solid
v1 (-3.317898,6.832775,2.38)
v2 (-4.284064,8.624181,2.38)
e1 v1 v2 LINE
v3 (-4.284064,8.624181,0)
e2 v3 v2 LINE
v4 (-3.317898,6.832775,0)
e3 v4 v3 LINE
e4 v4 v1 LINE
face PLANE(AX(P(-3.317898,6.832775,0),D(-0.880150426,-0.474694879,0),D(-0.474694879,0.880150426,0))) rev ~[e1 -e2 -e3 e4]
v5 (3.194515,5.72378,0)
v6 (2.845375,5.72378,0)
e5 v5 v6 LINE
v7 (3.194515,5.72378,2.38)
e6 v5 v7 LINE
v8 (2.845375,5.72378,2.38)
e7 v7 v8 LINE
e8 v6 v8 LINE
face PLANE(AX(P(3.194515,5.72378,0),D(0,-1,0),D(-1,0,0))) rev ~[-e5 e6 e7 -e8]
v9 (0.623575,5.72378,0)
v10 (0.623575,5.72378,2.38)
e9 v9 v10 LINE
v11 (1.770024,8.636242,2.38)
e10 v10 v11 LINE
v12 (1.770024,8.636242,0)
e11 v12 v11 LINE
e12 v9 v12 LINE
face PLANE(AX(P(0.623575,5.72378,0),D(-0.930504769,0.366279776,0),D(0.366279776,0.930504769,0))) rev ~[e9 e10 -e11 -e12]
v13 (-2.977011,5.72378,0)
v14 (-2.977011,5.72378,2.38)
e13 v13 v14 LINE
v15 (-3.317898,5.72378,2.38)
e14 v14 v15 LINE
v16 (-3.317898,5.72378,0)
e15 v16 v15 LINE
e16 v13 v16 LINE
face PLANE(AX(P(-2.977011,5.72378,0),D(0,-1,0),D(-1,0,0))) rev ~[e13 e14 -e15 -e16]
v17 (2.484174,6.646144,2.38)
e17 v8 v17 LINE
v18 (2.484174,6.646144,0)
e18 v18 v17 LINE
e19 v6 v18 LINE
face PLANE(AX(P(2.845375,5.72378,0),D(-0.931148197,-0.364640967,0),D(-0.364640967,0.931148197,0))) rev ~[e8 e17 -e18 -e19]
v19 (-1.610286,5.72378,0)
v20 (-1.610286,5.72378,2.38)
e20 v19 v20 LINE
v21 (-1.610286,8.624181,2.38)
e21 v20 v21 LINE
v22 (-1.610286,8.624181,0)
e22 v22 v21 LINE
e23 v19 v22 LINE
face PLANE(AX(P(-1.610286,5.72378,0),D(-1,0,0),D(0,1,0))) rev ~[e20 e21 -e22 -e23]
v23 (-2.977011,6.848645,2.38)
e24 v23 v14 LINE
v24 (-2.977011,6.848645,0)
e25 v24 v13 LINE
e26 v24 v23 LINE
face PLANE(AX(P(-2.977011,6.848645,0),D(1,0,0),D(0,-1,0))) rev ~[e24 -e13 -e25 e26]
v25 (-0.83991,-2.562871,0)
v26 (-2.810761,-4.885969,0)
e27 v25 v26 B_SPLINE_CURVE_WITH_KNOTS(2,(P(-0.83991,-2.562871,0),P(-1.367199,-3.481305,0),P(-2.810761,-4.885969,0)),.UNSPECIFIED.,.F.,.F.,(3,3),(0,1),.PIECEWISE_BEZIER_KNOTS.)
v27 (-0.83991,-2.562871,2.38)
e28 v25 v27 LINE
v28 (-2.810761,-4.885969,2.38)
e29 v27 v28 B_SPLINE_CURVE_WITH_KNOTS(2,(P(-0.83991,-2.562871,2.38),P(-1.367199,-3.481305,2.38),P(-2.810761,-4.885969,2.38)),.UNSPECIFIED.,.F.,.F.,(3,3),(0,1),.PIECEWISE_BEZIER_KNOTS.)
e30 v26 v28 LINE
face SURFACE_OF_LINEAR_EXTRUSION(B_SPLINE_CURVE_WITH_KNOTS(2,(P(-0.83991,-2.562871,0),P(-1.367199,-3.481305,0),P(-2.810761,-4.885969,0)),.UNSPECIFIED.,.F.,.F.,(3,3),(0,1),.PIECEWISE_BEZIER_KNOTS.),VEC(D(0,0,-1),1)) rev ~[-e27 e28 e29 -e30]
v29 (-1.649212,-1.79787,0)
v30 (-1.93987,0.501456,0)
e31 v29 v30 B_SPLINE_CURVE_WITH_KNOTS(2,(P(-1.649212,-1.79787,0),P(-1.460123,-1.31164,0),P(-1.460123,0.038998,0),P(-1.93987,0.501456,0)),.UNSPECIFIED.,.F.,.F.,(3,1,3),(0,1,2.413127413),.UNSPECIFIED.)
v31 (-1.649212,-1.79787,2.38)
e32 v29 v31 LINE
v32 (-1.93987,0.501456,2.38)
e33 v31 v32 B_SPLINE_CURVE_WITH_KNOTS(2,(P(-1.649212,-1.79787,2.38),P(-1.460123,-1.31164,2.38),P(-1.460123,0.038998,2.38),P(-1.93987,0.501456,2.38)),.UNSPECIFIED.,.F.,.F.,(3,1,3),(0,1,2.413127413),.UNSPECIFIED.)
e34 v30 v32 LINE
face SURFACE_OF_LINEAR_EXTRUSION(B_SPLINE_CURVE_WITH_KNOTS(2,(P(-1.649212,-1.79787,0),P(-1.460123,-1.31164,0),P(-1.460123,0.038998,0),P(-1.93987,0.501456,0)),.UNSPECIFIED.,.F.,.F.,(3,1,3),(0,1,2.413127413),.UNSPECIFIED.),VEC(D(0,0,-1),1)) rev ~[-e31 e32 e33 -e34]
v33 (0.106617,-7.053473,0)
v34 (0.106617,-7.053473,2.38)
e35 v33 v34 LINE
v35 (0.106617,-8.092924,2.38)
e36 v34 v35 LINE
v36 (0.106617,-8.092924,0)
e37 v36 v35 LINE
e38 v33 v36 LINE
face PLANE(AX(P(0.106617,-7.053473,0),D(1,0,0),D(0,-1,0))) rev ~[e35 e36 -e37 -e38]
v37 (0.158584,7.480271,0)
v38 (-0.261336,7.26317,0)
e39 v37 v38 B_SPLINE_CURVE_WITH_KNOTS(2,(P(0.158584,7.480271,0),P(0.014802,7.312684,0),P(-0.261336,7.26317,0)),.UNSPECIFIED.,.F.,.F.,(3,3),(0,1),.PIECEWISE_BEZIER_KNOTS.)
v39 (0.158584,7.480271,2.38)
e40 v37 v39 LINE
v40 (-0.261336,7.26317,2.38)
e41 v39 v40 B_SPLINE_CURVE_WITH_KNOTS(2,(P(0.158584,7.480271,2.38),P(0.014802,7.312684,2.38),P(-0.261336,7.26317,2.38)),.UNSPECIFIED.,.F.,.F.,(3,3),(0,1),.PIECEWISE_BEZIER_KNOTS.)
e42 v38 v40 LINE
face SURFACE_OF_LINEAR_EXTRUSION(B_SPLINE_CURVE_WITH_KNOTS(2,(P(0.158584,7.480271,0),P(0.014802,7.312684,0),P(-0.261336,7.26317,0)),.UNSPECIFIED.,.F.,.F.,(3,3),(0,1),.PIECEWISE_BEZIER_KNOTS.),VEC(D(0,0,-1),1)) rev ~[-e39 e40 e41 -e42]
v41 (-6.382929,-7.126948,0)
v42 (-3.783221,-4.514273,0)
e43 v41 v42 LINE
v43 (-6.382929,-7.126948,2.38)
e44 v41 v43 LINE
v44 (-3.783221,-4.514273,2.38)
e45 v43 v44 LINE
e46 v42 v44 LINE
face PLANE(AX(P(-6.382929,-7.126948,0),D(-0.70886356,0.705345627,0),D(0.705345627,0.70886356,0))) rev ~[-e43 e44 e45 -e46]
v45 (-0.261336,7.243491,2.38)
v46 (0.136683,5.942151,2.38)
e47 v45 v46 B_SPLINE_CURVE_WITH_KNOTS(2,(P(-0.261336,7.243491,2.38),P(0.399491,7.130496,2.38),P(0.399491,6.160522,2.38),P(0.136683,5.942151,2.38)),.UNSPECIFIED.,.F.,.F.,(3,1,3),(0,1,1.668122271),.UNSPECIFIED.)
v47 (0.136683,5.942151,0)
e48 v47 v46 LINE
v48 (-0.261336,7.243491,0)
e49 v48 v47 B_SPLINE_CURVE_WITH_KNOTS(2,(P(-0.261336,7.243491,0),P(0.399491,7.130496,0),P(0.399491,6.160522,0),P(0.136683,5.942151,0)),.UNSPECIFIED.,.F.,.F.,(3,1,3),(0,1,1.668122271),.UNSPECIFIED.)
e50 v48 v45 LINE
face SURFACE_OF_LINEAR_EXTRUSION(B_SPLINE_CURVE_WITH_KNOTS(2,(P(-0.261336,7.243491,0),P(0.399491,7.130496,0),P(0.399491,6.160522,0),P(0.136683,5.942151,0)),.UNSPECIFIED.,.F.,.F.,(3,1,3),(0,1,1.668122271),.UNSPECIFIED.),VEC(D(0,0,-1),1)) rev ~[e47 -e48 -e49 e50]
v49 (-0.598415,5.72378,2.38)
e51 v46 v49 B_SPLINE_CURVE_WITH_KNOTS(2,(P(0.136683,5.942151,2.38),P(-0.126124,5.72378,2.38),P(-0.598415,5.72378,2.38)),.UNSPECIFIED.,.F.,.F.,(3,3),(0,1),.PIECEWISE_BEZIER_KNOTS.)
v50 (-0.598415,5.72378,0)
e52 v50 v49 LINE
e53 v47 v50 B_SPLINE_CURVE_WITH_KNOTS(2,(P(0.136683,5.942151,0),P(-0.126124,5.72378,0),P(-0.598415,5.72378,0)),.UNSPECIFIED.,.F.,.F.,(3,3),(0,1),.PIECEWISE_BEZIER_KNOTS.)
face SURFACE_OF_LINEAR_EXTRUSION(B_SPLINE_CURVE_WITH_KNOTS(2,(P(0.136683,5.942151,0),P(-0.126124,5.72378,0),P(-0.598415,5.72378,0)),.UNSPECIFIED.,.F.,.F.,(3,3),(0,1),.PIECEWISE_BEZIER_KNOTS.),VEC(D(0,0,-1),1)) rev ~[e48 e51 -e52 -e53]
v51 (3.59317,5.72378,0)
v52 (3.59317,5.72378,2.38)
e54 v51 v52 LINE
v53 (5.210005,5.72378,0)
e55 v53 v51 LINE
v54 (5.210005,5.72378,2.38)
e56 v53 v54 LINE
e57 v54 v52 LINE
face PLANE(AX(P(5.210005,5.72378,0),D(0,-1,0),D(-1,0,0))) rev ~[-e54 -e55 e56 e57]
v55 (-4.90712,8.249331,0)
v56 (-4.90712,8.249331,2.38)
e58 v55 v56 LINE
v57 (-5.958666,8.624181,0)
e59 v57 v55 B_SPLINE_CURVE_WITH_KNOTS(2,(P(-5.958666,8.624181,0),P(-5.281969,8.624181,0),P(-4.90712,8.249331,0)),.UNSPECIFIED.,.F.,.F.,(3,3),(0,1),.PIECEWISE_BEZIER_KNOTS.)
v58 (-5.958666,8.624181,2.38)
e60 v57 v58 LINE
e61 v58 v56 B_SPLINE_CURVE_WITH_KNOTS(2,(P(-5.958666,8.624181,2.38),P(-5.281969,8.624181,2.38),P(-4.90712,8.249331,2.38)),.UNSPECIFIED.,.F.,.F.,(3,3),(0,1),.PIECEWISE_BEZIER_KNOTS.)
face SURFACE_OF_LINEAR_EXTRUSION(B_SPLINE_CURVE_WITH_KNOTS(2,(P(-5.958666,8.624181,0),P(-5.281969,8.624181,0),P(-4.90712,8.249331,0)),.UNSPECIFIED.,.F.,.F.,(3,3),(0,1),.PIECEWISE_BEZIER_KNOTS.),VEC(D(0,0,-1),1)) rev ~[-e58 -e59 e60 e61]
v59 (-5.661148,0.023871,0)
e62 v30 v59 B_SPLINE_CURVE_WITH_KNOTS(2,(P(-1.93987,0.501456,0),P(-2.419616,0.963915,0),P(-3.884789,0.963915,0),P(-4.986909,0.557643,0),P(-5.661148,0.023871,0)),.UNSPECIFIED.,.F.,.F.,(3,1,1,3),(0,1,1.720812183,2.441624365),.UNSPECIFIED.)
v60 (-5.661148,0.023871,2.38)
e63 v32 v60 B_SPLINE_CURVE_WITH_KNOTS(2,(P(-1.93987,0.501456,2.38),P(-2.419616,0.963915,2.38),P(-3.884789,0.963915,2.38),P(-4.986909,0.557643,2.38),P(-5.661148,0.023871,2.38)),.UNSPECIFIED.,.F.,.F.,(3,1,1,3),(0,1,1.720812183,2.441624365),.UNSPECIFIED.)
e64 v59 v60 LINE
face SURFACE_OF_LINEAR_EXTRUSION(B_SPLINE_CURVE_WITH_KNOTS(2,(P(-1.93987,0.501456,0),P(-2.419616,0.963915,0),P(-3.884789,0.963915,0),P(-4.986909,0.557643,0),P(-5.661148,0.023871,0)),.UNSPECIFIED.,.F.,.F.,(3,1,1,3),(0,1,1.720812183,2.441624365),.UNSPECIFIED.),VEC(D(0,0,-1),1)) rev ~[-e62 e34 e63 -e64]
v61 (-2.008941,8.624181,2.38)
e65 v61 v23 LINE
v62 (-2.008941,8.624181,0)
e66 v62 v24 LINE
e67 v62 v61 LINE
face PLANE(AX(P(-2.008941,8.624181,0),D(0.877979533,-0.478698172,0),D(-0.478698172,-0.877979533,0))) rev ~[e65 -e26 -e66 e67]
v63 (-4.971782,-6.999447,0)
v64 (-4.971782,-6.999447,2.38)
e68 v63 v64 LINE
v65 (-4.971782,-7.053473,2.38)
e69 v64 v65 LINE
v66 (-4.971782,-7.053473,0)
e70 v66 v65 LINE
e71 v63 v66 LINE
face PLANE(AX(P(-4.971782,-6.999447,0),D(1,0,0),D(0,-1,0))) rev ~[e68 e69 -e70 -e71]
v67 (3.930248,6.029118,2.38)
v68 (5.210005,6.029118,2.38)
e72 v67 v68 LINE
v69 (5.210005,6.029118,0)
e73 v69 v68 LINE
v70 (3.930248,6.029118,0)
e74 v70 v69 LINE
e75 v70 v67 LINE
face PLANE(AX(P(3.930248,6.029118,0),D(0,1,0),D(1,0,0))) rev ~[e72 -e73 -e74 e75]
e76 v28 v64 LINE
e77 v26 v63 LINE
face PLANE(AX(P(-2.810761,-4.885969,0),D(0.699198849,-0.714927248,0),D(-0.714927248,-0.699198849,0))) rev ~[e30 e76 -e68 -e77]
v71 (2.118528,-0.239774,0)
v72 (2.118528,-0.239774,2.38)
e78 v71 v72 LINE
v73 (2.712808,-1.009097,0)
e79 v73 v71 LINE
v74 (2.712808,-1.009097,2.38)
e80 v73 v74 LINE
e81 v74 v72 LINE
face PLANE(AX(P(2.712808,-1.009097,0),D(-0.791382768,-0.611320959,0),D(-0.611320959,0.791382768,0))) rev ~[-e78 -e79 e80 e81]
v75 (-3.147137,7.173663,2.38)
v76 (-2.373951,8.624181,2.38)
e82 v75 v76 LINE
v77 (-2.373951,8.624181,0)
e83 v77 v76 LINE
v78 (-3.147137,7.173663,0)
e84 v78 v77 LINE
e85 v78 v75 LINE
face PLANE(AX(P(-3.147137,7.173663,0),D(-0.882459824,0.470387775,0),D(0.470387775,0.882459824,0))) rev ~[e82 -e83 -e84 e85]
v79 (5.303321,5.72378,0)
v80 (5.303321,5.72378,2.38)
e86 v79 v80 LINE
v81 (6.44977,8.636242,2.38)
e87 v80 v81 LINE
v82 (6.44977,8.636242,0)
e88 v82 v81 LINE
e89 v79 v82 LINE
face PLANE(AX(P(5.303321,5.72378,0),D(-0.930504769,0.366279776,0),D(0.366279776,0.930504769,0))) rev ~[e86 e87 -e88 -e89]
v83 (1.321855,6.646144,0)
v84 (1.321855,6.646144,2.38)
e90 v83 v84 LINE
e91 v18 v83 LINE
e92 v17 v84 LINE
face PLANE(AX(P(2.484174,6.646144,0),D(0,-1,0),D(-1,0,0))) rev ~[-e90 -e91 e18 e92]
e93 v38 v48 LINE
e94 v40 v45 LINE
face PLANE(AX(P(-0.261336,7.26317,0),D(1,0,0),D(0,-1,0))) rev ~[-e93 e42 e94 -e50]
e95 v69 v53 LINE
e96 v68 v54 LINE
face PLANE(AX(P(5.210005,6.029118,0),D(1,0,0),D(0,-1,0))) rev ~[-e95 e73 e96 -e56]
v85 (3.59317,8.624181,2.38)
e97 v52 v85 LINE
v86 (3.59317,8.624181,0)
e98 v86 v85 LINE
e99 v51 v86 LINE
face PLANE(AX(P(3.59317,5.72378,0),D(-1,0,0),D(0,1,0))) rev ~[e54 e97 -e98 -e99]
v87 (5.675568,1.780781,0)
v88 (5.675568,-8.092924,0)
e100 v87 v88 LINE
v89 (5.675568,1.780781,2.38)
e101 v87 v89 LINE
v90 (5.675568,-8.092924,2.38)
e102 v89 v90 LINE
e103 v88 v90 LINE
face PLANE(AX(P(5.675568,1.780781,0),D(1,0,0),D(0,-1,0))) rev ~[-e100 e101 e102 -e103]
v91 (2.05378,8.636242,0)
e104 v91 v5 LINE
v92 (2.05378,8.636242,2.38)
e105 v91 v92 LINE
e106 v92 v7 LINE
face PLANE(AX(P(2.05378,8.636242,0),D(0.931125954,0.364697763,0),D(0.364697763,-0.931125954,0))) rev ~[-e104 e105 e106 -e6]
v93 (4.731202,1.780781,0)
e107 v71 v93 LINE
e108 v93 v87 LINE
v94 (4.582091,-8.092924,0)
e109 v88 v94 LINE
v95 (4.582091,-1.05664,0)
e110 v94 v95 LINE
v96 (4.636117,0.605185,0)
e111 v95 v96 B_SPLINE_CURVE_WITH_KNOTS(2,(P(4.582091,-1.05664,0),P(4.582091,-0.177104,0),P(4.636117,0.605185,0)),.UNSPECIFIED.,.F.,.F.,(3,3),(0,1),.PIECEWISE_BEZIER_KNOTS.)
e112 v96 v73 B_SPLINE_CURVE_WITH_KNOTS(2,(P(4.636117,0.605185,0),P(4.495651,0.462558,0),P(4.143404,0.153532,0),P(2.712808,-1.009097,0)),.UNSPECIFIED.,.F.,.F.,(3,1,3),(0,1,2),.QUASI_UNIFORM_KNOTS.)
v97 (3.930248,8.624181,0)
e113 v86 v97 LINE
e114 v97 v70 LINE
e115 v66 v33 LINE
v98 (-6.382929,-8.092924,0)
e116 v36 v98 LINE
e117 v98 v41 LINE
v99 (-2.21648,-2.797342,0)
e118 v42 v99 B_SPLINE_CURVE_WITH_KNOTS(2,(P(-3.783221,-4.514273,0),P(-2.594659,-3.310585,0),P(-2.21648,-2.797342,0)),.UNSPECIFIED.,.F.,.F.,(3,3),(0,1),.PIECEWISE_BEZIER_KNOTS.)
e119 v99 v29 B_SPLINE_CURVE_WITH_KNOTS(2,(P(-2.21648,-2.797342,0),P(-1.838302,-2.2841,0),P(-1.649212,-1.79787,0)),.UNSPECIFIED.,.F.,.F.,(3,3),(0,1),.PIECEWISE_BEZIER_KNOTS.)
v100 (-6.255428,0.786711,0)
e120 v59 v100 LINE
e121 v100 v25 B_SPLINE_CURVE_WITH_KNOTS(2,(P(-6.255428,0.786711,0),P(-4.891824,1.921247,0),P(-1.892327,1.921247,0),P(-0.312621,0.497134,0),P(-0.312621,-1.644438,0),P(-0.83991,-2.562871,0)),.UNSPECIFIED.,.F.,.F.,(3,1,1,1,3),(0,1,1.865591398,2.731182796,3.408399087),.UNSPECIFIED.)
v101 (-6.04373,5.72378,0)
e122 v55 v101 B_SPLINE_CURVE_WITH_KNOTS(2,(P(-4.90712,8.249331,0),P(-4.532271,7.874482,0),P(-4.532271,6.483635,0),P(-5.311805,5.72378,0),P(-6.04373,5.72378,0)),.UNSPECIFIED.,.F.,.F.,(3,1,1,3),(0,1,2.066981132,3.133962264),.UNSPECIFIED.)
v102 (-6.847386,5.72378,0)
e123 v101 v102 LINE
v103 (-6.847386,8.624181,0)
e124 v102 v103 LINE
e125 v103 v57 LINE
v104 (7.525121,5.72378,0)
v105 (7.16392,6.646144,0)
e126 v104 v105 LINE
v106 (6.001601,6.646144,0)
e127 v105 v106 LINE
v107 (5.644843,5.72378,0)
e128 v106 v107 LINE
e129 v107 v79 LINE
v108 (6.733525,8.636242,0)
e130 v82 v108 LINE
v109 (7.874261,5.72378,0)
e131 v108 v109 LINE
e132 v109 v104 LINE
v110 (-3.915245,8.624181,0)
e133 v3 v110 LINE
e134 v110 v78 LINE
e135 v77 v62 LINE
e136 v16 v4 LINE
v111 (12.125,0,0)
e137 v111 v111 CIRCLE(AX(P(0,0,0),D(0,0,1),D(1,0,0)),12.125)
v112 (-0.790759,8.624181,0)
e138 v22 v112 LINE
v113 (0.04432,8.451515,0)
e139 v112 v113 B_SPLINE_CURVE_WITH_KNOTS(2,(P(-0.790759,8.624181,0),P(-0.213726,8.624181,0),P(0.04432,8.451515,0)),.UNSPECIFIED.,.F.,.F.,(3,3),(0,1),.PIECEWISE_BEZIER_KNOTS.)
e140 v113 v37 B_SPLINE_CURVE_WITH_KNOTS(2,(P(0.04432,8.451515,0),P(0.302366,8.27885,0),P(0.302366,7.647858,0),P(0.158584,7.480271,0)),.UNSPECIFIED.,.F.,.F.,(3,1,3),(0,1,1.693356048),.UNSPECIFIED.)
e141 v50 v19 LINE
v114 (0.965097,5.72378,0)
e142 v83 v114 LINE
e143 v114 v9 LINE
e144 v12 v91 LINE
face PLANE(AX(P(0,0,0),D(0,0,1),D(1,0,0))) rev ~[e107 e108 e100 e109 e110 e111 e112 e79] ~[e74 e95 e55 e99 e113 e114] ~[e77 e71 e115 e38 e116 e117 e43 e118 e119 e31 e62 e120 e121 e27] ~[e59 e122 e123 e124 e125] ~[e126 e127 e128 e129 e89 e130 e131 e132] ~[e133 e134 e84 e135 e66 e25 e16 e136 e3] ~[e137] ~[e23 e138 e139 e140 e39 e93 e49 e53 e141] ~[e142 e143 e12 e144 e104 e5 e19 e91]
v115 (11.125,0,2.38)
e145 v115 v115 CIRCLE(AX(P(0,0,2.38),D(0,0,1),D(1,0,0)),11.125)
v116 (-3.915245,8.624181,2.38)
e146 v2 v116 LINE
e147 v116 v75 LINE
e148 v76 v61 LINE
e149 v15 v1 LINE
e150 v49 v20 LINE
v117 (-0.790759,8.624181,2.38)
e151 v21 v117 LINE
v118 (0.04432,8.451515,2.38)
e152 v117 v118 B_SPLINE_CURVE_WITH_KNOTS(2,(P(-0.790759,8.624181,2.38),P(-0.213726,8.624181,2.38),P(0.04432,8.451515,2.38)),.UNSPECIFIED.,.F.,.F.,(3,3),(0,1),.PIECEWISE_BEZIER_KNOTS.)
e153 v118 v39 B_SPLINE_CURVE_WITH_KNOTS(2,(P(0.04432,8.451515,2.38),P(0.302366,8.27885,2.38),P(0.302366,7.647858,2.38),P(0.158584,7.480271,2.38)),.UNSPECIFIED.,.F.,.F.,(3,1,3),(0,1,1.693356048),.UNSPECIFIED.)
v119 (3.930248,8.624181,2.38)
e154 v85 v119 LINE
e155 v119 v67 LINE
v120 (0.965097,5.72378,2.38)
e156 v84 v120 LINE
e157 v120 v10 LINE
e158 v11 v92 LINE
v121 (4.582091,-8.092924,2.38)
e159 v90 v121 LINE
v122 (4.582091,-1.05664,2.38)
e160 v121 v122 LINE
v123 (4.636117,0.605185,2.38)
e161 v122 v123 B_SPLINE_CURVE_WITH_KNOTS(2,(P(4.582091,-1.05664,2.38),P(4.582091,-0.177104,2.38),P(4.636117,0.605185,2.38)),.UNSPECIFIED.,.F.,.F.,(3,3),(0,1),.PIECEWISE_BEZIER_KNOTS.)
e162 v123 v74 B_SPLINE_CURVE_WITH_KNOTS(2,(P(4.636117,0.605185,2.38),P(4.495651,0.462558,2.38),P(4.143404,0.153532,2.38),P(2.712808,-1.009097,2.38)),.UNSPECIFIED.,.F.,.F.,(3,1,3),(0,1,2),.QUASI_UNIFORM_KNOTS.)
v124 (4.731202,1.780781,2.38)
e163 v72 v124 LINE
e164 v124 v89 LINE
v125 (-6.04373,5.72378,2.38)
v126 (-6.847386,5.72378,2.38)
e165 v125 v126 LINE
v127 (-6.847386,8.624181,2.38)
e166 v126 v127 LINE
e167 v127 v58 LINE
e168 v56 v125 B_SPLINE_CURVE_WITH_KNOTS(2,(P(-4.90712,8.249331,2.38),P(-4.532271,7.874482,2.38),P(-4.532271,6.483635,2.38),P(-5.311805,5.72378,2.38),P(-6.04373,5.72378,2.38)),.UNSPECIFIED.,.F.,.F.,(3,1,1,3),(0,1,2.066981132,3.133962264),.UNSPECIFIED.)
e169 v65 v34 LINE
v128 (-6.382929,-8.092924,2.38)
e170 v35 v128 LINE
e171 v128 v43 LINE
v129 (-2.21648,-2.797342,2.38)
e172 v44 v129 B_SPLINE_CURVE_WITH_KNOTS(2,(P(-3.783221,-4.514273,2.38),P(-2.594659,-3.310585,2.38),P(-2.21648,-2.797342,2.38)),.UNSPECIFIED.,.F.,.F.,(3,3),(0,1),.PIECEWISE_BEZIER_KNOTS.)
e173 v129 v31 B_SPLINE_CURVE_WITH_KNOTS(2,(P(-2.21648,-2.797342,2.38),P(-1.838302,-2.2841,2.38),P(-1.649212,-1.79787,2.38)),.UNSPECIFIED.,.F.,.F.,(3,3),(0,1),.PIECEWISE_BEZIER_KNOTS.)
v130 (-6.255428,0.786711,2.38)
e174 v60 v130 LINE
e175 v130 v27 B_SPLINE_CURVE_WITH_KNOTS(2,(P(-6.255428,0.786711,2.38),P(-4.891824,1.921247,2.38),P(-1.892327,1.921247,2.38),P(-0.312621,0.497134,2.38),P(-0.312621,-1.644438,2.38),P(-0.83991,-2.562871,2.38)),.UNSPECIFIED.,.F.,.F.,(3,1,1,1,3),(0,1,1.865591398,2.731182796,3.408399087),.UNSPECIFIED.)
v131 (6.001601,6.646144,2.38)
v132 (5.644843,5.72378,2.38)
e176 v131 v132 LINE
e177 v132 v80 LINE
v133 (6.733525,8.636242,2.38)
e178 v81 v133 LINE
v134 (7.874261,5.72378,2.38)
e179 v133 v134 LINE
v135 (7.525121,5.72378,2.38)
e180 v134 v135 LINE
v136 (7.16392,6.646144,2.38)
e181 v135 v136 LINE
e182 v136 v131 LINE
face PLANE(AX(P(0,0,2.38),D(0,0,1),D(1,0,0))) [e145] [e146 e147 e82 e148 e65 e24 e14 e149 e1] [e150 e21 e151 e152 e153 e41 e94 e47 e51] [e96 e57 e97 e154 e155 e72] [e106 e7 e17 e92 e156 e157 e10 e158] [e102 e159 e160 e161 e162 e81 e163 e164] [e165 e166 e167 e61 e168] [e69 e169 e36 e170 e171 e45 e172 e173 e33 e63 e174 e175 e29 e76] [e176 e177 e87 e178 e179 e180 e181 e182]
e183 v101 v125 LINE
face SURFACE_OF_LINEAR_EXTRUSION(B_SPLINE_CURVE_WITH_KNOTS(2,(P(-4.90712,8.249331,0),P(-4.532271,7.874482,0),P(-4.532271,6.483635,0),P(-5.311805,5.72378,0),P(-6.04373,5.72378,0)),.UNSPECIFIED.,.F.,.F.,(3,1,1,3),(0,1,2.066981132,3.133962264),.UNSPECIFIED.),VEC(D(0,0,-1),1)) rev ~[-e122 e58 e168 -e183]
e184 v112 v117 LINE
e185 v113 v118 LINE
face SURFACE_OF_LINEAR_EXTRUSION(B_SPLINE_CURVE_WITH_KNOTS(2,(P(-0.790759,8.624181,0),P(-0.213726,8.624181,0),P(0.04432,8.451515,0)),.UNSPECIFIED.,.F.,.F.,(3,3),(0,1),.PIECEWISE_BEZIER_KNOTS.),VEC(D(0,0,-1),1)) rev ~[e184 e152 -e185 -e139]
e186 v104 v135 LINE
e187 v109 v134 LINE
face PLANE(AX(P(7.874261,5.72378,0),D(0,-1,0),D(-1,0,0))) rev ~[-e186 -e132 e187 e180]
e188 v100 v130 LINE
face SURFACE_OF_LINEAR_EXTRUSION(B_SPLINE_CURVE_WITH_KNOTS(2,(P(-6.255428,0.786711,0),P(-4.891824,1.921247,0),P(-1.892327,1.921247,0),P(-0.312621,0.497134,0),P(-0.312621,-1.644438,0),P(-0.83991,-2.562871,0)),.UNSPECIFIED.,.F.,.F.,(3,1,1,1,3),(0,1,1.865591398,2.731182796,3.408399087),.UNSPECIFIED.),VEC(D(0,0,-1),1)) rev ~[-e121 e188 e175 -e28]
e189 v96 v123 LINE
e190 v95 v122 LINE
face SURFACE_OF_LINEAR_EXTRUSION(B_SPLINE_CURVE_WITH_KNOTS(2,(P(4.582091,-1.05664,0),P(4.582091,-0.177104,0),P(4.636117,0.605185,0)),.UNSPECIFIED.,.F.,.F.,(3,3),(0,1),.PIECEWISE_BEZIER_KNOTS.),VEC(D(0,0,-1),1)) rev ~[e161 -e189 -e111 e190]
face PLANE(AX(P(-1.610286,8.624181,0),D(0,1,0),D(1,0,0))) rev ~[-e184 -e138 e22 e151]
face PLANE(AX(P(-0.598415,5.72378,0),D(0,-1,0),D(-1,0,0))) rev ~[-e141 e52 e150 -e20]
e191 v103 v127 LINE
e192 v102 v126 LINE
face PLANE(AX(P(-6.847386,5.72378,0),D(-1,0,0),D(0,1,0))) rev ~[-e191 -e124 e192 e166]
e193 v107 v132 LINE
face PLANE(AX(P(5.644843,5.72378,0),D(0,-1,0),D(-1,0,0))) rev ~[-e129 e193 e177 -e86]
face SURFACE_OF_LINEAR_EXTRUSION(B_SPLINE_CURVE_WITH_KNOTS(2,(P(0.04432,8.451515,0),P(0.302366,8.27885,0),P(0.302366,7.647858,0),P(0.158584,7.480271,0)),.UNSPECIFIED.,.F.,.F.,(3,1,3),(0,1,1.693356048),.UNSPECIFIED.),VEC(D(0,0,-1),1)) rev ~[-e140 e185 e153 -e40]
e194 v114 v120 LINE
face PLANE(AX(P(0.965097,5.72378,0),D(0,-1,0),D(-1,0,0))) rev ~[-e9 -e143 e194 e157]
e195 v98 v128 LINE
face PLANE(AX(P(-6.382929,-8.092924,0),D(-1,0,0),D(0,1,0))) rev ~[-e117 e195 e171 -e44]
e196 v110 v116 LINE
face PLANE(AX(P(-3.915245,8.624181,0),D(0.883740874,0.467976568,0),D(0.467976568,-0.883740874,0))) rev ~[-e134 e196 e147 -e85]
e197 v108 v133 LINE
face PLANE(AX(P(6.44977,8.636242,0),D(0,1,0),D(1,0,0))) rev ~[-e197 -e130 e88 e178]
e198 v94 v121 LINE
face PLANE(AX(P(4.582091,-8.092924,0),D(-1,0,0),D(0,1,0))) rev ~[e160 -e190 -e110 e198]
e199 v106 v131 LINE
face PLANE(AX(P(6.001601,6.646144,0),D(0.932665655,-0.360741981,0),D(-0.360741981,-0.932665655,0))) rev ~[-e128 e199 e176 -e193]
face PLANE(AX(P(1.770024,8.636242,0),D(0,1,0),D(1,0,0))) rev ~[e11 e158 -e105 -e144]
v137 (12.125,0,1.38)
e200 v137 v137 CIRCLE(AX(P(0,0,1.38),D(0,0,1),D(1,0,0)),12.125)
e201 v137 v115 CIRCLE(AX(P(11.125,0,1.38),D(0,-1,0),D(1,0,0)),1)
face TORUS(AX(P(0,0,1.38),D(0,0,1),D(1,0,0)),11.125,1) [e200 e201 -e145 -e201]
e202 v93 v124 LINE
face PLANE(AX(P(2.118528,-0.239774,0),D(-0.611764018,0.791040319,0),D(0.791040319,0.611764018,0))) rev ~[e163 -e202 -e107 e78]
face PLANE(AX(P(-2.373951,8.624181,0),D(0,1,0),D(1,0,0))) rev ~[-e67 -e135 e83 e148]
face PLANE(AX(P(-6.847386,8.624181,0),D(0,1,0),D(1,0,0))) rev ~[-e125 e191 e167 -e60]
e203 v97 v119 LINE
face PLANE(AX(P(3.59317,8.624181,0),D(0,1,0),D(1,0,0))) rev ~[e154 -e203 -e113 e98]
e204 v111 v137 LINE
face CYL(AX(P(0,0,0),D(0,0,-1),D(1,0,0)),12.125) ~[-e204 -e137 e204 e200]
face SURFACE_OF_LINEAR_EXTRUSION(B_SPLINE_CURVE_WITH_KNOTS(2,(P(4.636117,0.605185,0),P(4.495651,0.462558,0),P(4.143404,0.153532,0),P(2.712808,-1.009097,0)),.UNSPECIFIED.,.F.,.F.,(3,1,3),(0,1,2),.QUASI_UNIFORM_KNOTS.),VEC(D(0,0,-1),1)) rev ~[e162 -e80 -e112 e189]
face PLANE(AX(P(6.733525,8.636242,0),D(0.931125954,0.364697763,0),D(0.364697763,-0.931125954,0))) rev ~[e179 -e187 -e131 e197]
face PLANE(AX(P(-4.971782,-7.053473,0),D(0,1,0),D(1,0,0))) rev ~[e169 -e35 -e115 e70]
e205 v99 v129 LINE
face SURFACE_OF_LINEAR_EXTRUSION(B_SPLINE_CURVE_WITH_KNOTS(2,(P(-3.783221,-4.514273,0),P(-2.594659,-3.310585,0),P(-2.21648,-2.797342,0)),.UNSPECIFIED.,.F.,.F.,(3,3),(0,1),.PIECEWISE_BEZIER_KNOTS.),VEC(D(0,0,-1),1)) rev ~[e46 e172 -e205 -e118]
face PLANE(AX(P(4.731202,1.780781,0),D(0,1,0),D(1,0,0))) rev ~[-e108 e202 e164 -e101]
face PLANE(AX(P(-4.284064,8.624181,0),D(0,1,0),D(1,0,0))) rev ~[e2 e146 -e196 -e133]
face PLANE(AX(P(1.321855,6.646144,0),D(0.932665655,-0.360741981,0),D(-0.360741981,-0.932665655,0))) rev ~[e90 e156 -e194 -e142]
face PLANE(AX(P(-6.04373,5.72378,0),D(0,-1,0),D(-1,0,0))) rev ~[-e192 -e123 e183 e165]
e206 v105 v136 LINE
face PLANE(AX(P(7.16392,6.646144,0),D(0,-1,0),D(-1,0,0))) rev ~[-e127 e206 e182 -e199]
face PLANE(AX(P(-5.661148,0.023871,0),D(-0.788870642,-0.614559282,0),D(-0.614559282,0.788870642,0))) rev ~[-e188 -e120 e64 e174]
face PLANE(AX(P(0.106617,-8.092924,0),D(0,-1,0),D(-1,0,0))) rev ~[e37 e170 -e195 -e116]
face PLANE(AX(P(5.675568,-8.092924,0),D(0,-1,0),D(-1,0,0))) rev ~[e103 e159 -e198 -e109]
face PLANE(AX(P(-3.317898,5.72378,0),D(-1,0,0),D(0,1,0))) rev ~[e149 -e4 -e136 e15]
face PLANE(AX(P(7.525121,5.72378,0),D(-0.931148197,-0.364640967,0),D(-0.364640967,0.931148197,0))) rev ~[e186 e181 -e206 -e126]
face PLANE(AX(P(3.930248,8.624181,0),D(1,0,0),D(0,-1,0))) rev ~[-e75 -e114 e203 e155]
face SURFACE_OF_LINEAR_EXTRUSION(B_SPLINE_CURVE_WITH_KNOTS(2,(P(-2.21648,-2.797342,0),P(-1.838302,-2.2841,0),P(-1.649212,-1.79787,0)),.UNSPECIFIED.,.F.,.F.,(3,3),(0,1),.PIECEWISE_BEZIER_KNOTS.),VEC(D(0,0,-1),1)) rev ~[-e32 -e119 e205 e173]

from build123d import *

# Parameters (mm, degrees)
F0_R     = 12.125
F1_DEPTH = 2.38
F2_R     = 1


with BuildPart() as f1:
    # F0 (on Top) → F1 (new body)
    with BuildSketch(Plane.XY):
        Circle(F0_R)
        with BuildLine():
            Line((0.1066171413, -7.0534729545), (0.1066171413, -8.0929240212))
            Line((0.1066171413, -8.0929240212), (-6.3829287074, -8.0929240212))
            Line((-6.3829287074, -8.0929240212), (-6.3829287074, -7.1269476661))
            Line((-6.3829287074, -7.1269476661), (-3.7832205302, -4.5142733634))
            add(Edge.make_bspline(
                [(-3.7832205302, -4.5142733634), (-2.5946590195, -3.3105847061), (-2.216480357, -2.7973422356)],
                knots=[0, 0, 0, 1, 1, 1], degree=2))
            add(Edge.make_bspline(
                [(-2.216480357, -2.7973422356), (-1.8383016945, -2.284099765), (-1.6492123632, -1.7978700561)],
                knots=[0, 0, 0, 1, 1, 1], degree=2))
            add(Edge.make_bspline(
                [(-1.6492123632, -1.7978700561), (-1.460123032, -1.3116403472), (-1.460123032, -0.7519359267)],
                knots=[0, 0, 0, 1, 1, 1], degree=2))
            add(Edge.make_bspline(
                [(-1.460123032, -0.7519359267), (-1.460123032, 0.0389977332), (-1.9398696781, 0.501456212)],
                knots=[0, 0, 0, 1, 1, 1], degree=2))
            add(Edge.make_bspline(
                [(-1.9398696781, 0.501456212), (-2.4196163243, 0.9639146907), (-3.2710585702, 0.9639146907)],
                knots=[0, 0, 0, 1, 1, 1], degree=2))
            add(Edge.make_bspline(
                [(-3.2710585702, 0.9639146907), (-3.8847885139, 0.9639146907), (-4.4358488507, 0.7607787234)],
                knots=[0, 0, 0, 1, 1, 1], degree=2))
            add(Edge.make_bspline(
                [(-4.4358488507, 0.7607787234), (-4.9869091875, 0.5576427561), (-5.6611477172, 0.0238705867)],
                knots=[0, 0, 0, 1, 1, 1], degree=2))
            Line((-5.6611477172, 0.0238705867), (-6.2554284726, 0.7867109745))
            add(Edge.make_bspline(
                [(-6.2554284726, 0.7867109745), (-4.8918242666, 1.9212469621), (-3.2840246957, 1.9212469621)],
                knots=[0, 0, 0, 1, 1, 1], degree=2))
            add(Edge.make_bspline(
                [(-3.2840246957, 1.9212469621), (-1.8923272177, 1.9212469621), (-1.1024740683, 1.2091905661)],
                knots=[0, 0, 0, 1, 1, 1], degree=2))
            add(Edge.make_bspline(
                [(-1.1024740683, 1.2091905661), (-0.3126209189, 0.4971341701), (-0.3126209189, -0.7043934662)],
                knots=[0, 0, 0, 1, 1, 1], degree=2))
            add(Edge.make_bspline(
                [(-0.3126209189, -0.7043934662), (-0.3126209189, -1.6444375702), (-0.8399100255, -2.5628714648)],
                knots=[0, 0, 0, 1, 1, 1], degree=2))
            add(Edge.make_bspline(
                [(-0.8399100255, -2.5628714648), (-1.367199132, -3.4813053595), (-2.8107611124, -4.8859689631)],
                knots=[0, 0, 0, 1, 1, 1], degree=2))
            Line((-2.8107611124, -4.8859689631), (-4.971782041, -6.9994474313))
            Line((-4.971782041, -6.9994474313), (-4.971782041, -7.0534729545))
            Line((-4.971782041, -7.0534729545), (0.1066171413, -7.0534729545))
        make_face(mode=Mode.SUBTRACT)
        with BuildLine():
            Line((5.6755680743, 1.7807806017), (5.6755680743, -8.0929240212))
            Line((5.6755680743, -8.0929240212), (4.5820914845, -8.0929240212))
            Line((4.5820914845, -8.0929240212), (4.5820914845, -1.0566398776))
            add(Edge.make_bspline(
                [(4.5820914845, -1.0566398776), (4.5820914845, -0.1771043596), (4.6361170077, 0.6051852165)],
                knots=[0, 0, 0, 1, 1, 1], degree=2))
            add(Edge.make_bspline(
                [(4.6361170077, 0.6051852165), (4.4956506473, 0.4625578352), (4.3195274416, 0.3080448388)],
                knots=[0, 0, 0, 1, 1, 1], degree=2))
            add(Edge.make_bspline(
                [(4.3195274416, 0.3080448388), (4.1434042359, 0.1535318424), (2.7128083812, -1.0090974172)],
                knots=[0, 0, 0, 1, 1, 1], degree=2))
            Line((2.7128083812, -1.0090974172), (2.1185276258, -0.2397739666))
            Line((2.1185276258, -0.2397739666), (4.7312019285, 1.7807806017))
            Line((4.7312019285, 1.7807806017), (5.6755680743, 1.7807806017))
        make_face(mode=Mode.SUBTRACT)
        with BuildLine():
            add(Edge.make_bspline(
                [(-4.9071200765, 8.249331423), (-4.5322706665, 7.874482013), (-4.5322706665, 7.201593995)],
                knots=[0, 0, 0, 1, 1, 1], degree=2))
            add(Edge.make_bspline(
                [(-4.5322706665, 7.201593995), (-4.5322706665, 6.4836351758), (-4.9220378769, 6.1037073656)],
                knots=[0, 0, 0, 1, 1, 1], degree=2))
            add(Edge.make_bspline(
                [(-4.9220378769, 6.1037073656), (-5.3118050873, 5.7237795554), (-6.0437295069, 5.7237795554)],
                knots=[0, 0, 0, 1, 1, 1], degree=2))
            Line((-6.0437295069, 5.7237795554), (-6.8473863284, 5.7237795554))
            Line((-6.8473863284, 5.7237795554), (-6.8473863284, 8.6241808331))
            Line((-6.8473863284, 8.6241808331), (-5.9586663047, 8.6241808331))
            add(Edge.make_bspline(
                [(-5.9586663047, 8.6241808331), (-5.2819694865, 8.6241808331), (-4.9071200765, 8.249331423)],
                knots=[0, 0, 0, 1, 1, 1], degree=2))
        make_face(mode=Mode.SUBTRACT)
        Polygon((-3.9152450499, 8.6241808331), (-3.1471370294, 7.1736627942), (-2.3739506087, 8.6241808331), (-2.0089405989, 8.6241808331), (-2.9770106248, 6.8486451855), (-2.9770106248, 5.7237795554), (-3.3178982339, 5.7237795554), (-3.3178982339, 6.8327751851), (-4.2840638598, 8.6241808331), align=None, mode=Mode.SUBTRACT)
        with BuildLine():
            Line((-1.6102861882, 5.7237795554), (-1.6102861882, 8.6241808331))
            Line((-1.6102861882, 8.6241808331), (-0.7907593663, 8.6241808331))
            add(Edge.make_bspline(
                [(-0.7907593663, 8.6241808331), (-0.2137261508, 8.6241808331), (0.0443200561, 8.4515152284)],
                knots=[0, 0, 0, 1, 1, 1], degree=2))
            add(Edge.make_bspline(
                [(0.0443200561, 8.4515152284), (0.302366263, 8.2788496238), (0.302366263, 7.9062220138)],
                knots=[0, 0, 0, 1, 1, 1], degree=2))
            add(Edge.make_bspline(
                [(0.302366263, 7.9062220138), (0.302366263, 7.6478584069), (0.1585840591, 7.4802712024)],
                knots=[0, 0, 0, 1, 1, 1], degree=2))
            add(Edge.make_bspline(
                [(0.1585840591, 7.4802712024), (0.0148018553, 7.312683998), (-0.2613361521, 7.2631695966)],
                knots=[0, 0, 0, 1, 1, 1], degree=2))
            Line((-0.2613361521, 7.2631695966), (-0.2613361521, 7.2434907961))
            add(Edge.make_bspline(
                [(-0.2613361521, 7.2434907961), (0.3994906656, 7.1304963931), (0.3994906656, 6.5490195775)],
                knots=[0, 0, 0, 1, 1, 1], degree=2))
            add(Edge.make_bspline(
                [(0.3994906656, 6.5490195775), (0.3994906656, 6.1605219671), (0.1366834585, 5.9421507613)],
                knots=[0, 0, 0, 1, 1, 1], degree=2))
            add(Edge.make_bspline(
                [(0.1366834585, 5.9421507613), (-0.1261237485, 5.7237795554), (-0.5984149611, 5.7237795554)],
                knots=[0, 0, 0, 1, 1, 1], degree=2))
            Line((-0.5984149611, 5.7237795554), (-1.6102861882, 5.7237795554))
        make_face(mode=Mode.SUBTRACT)
        Polygon((3.1945151404, 5.7237795554), (2.8453751311, 5.7237795554), (2.4841739214, 6.6461439801), (1.3218550903, 6.6461439801), (0.9650974807, 5.7237795554), (0.6235750716, 5.7237795554), (1.7700239023, 8.6362420334), (2.0537795099, 8.6362420334), align=None, mode=Mode.SUBTRACT)
        Polygon((5.2100051944, 5.7237795554), (3.5931695511, 5.7237795554), (3.5931695511, 8.6241808331), (3.9302483601, 8.6241808331), (3.9302483601, 6.0291183636), (5.2100051944, 6.0291183636), align=None, mode=Mode.SUBTRACT)
        Polygon((7.8742608657, 5.7237795554), (7.5251208564, 5.7237795554), (7.1639196467, 6.6461439801), (6.0016008156, 6.6461439801), (5.644843206, 5.7237795554), (5.3033207969, 5.7237795554), (6.4497696276, 8.6362420334), (6.7335252352, 8.6362420334), align=None, mode=Mode.SUBTRACT)
    extrude(amount=F1_DEPTH)

    # F2
    f2_edges = [f1.edges().sort_by_distance(p)[0] for p in [
        (-12.125, 0, 2.38),
    ]]
    fillet(f2_edges, radius=F2_R)


solid = f1.part
